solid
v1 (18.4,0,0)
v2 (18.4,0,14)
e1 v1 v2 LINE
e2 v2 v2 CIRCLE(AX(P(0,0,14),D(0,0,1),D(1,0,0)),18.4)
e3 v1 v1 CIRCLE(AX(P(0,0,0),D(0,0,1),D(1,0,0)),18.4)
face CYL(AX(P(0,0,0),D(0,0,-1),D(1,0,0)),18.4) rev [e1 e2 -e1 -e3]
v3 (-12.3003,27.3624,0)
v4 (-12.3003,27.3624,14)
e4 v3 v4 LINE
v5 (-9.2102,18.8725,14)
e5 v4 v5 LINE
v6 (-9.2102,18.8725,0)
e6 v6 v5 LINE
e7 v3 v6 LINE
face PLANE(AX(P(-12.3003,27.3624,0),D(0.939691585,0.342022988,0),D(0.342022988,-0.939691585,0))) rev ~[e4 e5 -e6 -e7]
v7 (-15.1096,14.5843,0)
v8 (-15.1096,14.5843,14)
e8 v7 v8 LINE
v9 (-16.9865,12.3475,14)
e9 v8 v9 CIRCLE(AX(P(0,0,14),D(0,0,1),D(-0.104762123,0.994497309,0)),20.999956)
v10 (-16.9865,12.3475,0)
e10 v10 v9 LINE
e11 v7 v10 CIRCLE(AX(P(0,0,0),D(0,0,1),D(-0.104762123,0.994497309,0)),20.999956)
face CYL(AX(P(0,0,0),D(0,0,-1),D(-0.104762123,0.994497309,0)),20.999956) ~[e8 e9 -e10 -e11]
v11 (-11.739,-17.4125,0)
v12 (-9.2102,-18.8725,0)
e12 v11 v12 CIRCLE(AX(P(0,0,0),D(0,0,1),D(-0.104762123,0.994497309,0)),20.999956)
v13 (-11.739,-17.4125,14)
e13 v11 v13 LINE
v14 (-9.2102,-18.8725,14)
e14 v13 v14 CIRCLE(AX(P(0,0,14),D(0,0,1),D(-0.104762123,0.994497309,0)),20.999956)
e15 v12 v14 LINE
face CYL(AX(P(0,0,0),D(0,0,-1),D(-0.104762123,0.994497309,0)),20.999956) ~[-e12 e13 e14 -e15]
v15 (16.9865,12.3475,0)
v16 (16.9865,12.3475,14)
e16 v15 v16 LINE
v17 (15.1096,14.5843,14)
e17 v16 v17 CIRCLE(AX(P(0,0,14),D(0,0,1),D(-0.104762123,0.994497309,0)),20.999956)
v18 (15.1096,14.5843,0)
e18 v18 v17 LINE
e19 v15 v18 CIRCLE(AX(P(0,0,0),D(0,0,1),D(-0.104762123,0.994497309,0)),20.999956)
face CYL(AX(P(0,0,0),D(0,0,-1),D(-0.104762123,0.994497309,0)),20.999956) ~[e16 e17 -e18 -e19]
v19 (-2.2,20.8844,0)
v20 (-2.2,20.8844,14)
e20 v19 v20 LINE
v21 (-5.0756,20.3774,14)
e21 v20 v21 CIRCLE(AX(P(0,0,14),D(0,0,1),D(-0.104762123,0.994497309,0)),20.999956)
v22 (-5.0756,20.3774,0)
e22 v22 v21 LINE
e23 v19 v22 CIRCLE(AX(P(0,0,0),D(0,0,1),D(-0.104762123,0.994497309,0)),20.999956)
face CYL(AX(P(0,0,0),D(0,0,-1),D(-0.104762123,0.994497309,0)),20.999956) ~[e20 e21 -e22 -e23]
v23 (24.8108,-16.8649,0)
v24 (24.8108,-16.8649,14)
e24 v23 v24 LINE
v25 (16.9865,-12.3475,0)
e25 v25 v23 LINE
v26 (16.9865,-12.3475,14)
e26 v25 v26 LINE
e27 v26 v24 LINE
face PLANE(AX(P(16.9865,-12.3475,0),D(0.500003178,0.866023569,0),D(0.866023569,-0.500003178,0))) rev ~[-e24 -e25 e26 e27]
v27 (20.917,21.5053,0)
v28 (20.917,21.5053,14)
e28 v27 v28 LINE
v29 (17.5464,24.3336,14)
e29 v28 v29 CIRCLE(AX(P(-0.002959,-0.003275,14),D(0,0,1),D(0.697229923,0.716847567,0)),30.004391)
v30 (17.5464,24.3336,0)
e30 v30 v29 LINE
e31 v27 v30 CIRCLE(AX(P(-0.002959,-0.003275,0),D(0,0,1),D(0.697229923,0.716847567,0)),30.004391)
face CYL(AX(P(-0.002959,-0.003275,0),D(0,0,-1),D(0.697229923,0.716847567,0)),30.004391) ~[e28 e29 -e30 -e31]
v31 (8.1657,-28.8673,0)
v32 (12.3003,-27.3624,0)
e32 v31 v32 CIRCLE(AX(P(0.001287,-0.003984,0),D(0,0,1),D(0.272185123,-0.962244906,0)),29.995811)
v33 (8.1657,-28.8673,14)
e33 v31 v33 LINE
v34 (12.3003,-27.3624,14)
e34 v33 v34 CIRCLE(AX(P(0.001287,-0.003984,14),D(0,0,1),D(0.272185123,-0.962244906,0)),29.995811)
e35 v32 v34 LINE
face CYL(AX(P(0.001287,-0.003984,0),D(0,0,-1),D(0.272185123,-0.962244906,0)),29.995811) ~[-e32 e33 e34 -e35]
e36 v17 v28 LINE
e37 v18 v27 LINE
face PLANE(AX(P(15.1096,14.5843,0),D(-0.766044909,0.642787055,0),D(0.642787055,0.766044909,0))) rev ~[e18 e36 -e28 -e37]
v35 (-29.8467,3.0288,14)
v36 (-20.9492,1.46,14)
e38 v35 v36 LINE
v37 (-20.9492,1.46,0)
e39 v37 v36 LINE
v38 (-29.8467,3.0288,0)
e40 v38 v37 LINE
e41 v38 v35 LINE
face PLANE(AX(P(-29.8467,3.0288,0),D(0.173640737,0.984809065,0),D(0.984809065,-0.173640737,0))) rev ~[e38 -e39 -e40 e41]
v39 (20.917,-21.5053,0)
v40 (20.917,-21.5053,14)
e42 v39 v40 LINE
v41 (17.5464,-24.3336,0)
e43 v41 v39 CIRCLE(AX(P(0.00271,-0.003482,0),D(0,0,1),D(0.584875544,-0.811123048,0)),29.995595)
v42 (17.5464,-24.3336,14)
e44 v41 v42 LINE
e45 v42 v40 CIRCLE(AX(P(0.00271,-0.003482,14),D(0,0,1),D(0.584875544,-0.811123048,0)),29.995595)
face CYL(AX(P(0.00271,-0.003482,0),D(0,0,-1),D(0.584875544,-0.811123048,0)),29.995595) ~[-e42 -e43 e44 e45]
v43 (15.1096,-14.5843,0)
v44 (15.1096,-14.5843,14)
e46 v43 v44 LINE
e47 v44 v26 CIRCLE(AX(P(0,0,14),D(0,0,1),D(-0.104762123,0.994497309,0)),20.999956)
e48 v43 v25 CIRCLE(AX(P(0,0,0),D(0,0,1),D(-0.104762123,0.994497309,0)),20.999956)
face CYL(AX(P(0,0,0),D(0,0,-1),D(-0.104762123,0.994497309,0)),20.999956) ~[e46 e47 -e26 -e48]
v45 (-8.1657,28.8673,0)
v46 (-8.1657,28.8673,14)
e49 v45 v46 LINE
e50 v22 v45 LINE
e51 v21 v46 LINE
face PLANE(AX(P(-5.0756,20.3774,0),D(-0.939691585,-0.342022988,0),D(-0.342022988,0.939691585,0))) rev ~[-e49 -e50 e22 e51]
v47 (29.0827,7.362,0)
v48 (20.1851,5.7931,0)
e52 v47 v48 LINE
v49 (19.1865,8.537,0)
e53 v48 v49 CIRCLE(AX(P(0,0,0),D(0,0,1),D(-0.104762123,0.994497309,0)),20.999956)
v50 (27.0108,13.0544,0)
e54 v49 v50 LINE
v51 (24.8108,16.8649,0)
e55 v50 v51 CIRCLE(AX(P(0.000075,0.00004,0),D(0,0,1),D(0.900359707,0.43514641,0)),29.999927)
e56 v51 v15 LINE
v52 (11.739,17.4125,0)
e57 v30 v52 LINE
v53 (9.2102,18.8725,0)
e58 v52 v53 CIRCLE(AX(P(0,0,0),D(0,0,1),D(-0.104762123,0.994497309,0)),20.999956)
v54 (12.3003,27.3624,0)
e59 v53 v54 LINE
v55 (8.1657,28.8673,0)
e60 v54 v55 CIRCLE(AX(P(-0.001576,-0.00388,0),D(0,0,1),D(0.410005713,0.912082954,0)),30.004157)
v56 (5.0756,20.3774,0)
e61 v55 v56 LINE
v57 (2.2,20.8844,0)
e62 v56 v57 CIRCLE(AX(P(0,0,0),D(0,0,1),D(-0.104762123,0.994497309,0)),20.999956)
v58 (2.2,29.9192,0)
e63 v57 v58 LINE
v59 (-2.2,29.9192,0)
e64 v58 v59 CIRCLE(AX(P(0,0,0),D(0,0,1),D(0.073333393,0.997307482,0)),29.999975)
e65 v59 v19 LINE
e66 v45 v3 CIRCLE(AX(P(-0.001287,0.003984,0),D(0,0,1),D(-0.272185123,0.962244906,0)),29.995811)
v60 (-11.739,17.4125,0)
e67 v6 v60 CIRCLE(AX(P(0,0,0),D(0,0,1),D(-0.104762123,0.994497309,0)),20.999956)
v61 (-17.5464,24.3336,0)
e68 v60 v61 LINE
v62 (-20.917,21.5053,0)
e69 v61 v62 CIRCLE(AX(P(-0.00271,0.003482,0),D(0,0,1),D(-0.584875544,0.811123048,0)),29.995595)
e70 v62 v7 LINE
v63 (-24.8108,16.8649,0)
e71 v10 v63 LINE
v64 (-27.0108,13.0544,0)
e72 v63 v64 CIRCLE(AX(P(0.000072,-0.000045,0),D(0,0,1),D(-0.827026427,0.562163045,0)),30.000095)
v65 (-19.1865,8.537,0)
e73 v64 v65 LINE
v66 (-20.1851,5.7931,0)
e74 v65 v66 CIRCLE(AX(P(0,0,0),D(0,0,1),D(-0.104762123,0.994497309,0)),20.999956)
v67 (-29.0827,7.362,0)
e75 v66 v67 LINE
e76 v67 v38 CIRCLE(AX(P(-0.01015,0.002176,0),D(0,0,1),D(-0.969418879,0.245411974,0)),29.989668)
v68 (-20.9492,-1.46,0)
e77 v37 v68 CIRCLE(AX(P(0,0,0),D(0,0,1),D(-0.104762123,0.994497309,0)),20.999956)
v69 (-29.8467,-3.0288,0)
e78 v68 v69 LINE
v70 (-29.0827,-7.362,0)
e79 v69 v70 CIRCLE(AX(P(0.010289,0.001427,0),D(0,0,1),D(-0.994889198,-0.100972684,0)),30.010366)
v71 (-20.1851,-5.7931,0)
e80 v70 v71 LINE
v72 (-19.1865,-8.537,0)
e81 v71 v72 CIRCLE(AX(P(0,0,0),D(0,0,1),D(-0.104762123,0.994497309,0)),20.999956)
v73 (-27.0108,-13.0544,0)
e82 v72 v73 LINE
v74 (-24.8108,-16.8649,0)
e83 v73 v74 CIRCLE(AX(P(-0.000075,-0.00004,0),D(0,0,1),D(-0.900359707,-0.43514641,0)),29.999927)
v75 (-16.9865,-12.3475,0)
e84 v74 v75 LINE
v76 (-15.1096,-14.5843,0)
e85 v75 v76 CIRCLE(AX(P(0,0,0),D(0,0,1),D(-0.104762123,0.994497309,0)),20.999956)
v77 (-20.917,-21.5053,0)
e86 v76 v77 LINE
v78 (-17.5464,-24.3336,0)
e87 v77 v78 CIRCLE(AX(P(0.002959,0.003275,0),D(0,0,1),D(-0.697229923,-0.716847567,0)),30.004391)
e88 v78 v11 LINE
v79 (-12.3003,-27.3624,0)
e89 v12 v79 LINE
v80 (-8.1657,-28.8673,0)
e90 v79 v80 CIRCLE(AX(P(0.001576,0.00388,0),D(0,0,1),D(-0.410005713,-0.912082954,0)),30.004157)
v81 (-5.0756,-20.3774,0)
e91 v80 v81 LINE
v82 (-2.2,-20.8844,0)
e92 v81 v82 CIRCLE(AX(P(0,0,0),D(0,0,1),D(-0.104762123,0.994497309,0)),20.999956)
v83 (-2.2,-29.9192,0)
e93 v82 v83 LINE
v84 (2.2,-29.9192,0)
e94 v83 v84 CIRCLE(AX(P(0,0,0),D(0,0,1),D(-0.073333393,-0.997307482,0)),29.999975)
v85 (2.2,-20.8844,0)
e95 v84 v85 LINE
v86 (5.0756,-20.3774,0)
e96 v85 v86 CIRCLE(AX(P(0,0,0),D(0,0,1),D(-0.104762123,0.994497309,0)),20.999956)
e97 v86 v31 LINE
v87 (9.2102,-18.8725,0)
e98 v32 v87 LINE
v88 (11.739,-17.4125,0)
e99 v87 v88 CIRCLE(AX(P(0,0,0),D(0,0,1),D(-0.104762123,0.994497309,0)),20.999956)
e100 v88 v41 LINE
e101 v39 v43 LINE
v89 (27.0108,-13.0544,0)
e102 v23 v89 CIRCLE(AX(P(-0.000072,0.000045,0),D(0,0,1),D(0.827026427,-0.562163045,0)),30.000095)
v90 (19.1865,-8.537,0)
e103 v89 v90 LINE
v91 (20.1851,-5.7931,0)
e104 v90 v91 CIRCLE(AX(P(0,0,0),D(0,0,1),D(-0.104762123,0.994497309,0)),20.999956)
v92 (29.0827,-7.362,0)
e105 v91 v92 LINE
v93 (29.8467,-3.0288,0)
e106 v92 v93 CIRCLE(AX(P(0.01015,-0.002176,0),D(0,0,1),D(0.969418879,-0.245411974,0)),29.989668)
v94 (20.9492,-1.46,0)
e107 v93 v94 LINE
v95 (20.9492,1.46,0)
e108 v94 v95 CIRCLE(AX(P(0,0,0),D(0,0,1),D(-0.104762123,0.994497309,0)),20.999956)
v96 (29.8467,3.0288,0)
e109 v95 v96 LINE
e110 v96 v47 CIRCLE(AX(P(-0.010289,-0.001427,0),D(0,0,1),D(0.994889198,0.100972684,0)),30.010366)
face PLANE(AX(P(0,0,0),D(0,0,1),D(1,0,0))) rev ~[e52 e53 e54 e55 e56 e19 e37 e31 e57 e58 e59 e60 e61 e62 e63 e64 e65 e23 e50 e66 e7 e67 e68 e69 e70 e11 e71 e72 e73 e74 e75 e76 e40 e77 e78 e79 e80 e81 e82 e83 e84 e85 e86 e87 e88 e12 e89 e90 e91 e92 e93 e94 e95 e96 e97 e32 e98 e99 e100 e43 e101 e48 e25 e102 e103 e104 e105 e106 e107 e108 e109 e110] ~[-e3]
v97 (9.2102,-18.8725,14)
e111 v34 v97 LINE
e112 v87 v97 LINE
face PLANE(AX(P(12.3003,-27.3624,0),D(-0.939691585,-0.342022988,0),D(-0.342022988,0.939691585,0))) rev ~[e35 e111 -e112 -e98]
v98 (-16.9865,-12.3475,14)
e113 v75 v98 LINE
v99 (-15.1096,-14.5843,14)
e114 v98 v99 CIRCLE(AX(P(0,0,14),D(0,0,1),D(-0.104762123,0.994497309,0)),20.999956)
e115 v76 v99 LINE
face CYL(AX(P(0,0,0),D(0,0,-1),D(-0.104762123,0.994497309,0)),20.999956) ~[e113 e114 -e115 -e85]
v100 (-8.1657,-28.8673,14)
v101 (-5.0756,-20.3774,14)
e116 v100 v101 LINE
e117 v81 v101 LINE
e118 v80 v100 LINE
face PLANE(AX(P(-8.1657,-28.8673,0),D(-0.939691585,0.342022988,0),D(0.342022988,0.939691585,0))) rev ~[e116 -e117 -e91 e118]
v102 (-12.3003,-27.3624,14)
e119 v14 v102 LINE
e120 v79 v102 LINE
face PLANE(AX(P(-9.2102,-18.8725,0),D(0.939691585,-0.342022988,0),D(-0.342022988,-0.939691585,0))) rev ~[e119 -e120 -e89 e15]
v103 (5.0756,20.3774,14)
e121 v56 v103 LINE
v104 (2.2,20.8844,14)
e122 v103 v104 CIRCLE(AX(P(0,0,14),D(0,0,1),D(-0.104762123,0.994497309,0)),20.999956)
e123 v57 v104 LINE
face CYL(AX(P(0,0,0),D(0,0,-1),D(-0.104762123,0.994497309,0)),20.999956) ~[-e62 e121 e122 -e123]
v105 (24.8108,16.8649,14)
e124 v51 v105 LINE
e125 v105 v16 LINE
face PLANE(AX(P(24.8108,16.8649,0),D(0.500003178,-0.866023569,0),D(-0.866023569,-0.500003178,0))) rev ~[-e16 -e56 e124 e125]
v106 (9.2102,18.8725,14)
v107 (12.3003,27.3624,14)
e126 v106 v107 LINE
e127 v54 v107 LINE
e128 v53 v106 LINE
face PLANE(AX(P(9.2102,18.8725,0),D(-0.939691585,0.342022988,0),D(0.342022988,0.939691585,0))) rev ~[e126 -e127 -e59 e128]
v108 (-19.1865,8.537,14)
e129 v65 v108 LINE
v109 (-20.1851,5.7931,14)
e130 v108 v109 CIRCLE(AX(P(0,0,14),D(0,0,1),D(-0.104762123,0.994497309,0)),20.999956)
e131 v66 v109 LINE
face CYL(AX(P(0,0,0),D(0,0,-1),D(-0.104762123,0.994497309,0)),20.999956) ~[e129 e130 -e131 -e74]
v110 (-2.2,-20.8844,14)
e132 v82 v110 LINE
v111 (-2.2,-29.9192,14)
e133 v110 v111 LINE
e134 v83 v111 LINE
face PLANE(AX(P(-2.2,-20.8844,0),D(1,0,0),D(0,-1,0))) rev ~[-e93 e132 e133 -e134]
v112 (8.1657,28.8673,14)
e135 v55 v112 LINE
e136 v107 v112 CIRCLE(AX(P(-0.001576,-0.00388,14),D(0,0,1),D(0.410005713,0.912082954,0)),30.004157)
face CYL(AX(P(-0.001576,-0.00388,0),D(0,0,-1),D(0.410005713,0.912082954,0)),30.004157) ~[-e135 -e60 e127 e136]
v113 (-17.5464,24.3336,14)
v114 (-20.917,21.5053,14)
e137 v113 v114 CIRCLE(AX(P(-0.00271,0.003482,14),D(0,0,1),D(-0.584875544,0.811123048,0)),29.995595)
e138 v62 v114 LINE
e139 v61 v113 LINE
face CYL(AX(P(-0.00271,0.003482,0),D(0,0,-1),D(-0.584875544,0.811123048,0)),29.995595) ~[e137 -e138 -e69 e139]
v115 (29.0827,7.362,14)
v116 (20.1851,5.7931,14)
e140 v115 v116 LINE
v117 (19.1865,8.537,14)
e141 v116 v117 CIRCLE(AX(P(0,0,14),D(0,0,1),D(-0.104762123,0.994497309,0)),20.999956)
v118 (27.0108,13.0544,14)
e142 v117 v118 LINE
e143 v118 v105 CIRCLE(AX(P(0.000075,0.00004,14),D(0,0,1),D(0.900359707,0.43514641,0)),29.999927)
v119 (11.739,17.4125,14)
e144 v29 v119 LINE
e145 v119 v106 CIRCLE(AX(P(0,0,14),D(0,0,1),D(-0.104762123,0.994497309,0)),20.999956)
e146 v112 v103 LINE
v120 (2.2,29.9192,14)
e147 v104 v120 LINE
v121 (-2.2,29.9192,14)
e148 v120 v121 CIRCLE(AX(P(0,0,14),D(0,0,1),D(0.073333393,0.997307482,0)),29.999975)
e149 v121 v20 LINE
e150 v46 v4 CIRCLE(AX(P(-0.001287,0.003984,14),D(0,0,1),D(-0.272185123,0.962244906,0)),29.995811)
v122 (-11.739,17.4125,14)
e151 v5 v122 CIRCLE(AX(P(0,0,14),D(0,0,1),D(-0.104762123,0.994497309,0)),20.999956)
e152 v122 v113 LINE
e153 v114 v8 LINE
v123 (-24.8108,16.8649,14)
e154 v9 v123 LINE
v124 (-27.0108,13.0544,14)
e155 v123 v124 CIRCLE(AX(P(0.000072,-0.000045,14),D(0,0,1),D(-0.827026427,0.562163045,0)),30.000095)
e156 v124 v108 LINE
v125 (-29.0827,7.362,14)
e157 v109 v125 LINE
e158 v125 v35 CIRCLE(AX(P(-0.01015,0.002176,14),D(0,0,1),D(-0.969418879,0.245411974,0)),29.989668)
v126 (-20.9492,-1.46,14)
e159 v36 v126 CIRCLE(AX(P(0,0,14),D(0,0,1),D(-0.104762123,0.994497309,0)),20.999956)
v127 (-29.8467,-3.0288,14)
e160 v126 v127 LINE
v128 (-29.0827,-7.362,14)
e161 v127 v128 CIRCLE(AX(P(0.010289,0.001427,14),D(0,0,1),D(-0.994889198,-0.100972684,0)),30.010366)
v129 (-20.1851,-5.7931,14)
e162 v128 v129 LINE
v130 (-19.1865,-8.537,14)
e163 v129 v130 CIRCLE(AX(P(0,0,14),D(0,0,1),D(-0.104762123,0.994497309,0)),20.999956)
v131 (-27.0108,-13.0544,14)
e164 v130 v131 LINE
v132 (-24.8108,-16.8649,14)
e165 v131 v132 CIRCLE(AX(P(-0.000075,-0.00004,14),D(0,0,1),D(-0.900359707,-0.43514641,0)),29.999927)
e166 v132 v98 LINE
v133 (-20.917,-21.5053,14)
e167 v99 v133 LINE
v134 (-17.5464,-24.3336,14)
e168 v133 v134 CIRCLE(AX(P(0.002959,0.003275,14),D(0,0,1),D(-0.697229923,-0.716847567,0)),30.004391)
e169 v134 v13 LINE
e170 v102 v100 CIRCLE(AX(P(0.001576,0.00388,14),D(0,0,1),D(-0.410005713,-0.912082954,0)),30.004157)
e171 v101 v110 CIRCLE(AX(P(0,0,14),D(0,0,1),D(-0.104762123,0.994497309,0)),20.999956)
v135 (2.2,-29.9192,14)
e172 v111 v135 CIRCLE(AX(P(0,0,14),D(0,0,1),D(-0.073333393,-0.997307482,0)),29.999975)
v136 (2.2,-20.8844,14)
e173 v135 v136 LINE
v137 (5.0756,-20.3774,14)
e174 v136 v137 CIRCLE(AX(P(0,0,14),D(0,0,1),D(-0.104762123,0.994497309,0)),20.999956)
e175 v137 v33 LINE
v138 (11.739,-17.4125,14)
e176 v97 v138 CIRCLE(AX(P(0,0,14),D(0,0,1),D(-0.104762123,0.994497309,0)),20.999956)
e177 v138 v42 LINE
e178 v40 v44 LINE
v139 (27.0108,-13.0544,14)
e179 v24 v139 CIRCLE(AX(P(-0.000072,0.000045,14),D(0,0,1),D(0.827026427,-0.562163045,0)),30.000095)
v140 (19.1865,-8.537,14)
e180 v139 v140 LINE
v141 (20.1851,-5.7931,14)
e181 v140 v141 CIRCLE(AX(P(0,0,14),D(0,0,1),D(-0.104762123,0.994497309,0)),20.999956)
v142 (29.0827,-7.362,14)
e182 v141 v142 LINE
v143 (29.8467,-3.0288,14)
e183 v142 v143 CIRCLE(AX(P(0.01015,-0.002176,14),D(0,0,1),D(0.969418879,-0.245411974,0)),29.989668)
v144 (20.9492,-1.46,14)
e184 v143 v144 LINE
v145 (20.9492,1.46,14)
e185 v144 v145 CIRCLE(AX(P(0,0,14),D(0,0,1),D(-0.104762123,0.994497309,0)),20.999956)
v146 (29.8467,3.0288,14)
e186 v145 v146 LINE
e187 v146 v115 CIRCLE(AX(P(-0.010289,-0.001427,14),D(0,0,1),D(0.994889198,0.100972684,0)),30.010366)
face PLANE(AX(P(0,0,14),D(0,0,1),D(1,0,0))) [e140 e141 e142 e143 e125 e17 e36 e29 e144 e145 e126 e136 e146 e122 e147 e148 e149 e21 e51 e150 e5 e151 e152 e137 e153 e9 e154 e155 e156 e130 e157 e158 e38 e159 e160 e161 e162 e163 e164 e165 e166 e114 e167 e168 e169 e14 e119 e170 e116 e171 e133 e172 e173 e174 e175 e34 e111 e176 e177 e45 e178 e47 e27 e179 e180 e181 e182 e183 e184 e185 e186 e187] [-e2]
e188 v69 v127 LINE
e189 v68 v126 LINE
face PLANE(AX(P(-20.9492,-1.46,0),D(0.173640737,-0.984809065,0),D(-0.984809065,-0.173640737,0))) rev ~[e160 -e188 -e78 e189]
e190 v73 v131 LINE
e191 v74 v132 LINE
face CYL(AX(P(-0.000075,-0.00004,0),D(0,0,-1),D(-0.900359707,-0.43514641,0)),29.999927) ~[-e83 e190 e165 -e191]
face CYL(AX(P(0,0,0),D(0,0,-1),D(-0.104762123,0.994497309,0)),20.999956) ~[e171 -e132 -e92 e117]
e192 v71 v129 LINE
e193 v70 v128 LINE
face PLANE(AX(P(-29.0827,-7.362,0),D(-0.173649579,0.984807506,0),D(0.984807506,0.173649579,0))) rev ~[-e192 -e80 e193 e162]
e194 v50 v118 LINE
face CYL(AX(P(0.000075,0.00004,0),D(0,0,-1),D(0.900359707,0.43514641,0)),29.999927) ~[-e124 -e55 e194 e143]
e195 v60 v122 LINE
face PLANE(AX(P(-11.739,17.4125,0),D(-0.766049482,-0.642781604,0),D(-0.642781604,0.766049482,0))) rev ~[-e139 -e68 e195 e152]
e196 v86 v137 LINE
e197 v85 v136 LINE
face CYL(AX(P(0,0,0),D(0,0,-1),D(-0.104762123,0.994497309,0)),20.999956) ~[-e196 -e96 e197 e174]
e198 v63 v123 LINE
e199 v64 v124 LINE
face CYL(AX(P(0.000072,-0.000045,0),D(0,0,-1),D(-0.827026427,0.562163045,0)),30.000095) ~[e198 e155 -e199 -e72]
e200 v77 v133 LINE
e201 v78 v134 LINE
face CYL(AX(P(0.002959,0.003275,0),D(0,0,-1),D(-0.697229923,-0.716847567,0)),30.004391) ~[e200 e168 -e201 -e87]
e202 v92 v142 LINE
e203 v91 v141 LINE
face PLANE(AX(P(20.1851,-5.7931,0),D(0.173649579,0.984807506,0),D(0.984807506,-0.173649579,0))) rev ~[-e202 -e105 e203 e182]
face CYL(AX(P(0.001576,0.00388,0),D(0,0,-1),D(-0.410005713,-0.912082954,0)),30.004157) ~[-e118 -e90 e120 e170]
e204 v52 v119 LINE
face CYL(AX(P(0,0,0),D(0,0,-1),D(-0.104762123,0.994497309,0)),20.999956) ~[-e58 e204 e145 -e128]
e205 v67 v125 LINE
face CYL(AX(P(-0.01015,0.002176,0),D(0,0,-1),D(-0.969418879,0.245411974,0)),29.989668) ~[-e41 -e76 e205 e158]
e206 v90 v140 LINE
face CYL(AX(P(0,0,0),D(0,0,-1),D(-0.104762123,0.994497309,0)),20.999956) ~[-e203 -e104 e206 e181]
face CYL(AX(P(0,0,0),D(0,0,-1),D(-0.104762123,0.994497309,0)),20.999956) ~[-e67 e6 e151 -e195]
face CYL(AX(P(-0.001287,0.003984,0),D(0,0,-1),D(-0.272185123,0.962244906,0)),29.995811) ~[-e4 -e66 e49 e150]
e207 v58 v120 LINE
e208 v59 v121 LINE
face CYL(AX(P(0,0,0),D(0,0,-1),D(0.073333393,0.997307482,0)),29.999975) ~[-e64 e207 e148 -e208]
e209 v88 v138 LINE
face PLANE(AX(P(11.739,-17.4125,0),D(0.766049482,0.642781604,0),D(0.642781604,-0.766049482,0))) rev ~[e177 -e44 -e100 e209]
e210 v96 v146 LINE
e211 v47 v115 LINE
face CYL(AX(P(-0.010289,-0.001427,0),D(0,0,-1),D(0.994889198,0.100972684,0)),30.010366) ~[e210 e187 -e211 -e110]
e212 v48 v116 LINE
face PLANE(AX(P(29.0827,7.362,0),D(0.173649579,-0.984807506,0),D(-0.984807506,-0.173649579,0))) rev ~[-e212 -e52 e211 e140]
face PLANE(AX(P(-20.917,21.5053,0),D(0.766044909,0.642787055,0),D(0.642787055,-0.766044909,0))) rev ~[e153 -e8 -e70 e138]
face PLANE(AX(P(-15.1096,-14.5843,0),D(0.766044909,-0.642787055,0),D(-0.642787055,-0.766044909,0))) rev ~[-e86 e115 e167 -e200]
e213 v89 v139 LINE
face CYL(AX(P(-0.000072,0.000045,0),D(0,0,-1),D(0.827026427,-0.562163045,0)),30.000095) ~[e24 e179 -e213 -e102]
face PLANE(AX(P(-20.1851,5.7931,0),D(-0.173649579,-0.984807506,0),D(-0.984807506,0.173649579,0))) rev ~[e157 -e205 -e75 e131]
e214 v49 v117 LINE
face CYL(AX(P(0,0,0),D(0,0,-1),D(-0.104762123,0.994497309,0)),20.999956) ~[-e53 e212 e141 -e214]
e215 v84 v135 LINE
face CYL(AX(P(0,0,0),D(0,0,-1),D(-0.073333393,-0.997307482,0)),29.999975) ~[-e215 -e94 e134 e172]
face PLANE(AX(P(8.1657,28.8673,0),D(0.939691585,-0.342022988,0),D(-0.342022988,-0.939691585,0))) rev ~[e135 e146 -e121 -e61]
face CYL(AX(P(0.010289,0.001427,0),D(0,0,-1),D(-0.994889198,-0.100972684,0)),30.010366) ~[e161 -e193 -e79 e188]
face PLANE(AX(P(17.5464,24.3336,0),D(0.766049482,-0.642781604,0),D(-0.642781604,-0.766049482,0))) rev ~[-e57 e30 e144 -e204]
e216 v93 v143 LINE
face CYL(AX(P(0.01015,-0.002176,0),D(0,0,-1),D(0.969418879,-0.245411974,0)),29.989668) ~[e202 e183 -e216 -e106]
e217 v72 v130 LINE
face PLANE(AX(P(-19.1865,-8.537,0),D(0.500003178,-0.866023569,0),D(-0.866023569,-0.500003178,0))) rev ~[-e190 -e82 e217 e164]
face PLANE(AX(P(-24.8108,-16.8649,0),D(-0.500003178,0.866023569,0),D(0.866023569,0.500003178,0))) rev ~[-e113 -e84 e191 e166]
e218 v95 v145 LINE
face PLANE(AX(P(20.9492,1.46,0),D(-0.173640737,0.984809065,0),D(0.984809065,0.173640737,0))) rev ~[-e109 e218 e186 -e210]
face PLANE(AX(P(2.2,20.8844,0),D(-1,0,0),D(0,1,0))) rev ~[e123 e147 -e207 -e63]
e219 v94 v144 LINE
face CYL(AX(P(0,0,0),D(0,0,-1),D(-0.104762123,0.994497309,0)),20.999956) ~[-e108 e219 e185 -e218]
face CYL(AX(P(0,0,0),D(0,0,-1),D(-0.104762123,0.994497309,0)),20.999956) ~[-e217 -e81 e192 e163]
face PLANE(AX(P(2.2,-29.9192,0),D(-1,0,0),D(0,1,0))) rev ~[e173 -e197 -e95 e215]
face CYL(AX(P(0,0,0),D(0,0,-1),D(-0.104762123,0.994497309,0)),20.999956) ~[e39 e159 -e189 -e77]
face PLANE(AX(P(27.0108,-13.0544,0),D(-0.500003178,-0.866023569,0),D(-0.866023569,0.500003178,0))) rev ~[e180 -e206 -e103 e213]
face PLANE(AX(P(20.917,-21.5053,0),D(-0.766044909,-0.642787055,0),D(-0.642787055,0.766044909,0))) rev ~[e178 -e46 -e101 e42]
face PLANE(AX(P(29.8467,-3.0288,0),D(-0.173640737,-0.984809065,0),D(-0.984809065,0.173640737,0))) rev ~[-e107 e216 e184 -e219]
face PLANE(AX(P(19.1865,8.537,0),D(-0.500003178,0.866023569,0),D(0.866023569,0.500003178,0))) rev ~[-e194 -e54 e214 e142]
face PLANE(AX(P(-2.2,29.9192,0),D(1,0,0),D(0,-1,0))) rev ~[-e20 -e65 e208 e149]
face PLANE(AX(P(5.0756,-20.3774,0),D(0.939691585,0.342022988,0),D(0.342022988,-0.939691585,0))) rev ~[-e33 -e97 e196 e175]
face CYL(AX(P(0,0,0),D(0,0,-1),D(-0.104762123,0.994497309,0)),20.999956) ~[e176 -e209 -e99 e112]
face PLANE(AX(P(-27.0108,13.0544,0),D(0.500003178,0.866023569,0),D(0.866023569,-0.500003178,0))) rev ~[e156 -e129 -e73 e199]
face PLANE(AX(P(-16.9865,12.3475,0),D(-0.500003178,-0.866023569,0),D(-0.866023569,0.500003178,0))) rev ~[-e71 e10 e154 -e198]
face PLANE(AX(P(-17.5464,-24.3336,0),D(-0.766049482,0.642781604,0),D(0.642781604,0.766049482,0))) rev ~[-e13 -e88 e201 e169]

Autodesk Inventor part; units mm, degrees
ref_plane "YZ Plane" through (0, 0, 0) normal (1, 0, 0) x (0, 1, 0)
ref_plane "XZ Plane" through (0, 0, 0) normal (0, 1, 0) x (-1, 0, 0)
ref_plane "XY Plane" through (0, 0, 0) normal (0, 0, 1) x (1, 0, 0)
sketch "스케치1" plane through (0, 0, 0) normal (0, 0, 1) x (1, 0, 0)
  circle A0 centre (0, 0) radius 18.4
  arc A1 (2.2, 29.9192) -> (-2.2, 29.9192) centre (0, 0) ccw
  arc A2 (-2.2, 20.8844) -> (2.2, 20.8844) centre (0, 0) ccw
  line L0 (2.2, 29.9192) -> (-2.2, 29.9192)
  line L1 (-2.2, 29.9192) -> (-2.2, 20.8844)
  line L2 (2.2, 20.8844) -> (2.2, 29.9192)
  arc A3 (-8.1657, 28.8673) -> (-12.3003, 27.3624) centre (0, 0) ccw
  line L3 (-8.1657, 28.8673) -> (-12.3003, 27.3624)
  line L4 (-12.3003, 27.3624) -> (-9.2102, 18.8725)
  line L5 (-5.0756, 20.3774) -> (-8.1657, 28.8673)
  arc A4 (-17.5464, 24.3336) -> (-20.917, 21.5053) centre (0, 0) ccw
  line L6 (-17.5464, 24.3336) -> (-20.917, 21.5053)
  line L7 (-20.917, 21.5053) -> (-15.1096, 14.5843)
  line L8 (-11.739, 17.4125) -> (-17.5464, 24.3336)
  arc A5 (-24.8108, 16.8649) -> (-27.0108, 13.0544) centre (0, 0) ccw
  line L9 (-24.8108, 16.8649) -> (-27.0108, 13.0544)
  line L10 (-27.0108, 13.0544) -> (-19.1865, 8.537)
  line L11 (-16.9865, 12.3475) -> (-24.8108, 16.8649)
  arc A6 (-29.0827, 7.362) -> (-29.8467, 3.0288) centre (0, 0) ccw
  line L12 (-29.0827, 7.362) -> (-29.8467, 3.0288)
  line L13 (-29.8467, 3.0288) -> (-20.9492, 1.46)
  line L14 (-20.1851, 5.7931) -> (-29.0827, 7.362)
  arc A7 (-29.8467, -3.0288) -> (-29.0827, -7.362) centre (0, 0) ccw
  line L15 (-29.8467, -3.0288) -> (-29.0827, -7.362)
  line L16 (-29.0827, -7.362) -> (-20.1851, -5.7931)
  line L17 (-20.9492, -1.46) -> (-29.8467, -3.0288)
  arc A8 (-27.0108, -13.0544) -> (-24.8108, -16.8649) centre (0, 0) ccw
  line L18 (-27.0108, -13.0544) -> (-24.8108, -16.8649)
  line L19 (-24.8108, -16.8649) -> (-16.9865, -12.3475)
  line L20 (-19.1865, -8.537) -> (-27.0108, -13.0544)
  arc A9 (-20.917, -21.5053) -> (-17.5464, -24.3336) centre (0, 0) ccw
  line L21 (-20.917, -21.5053) -> (-17.5464, -24.3336)
  line L22 (-17.5464, -24.3336) -> (-11.739, -17.4125)
  line L23 (-15.1096, -14.5843) -> (-20.917, -21.5053)
  arc A10 (-12.3003, -27.3624) -> (-8.1657, -28.8673) centre (0, 0) ccw
  line L24 (-12.3003, -27.3624) -> (-8.1657, -28.8673)
  line L25 (-8.1657, -28.8673) -> (-5.0756, -20.3774)
  line L26 (-9.2102, -18.8725) -> (-12.3003, -27.3624)
  arc A11 (-2.2, -29.9192) -> (2.2, -29.9192) centre (0, 0) ccw
  line L27 (-2.2, -29.9192) -> (2.2, -29.9192)
  line L28 (2.2, -29.9192) -> (2.2, -20.8844)
  line L29 (-2.2, -20.8844) -> (-2.2, -29.9192)
  arc A12 (8.1657, -28.8673) -> (12.3003, -27.3624) centre (0, 0) ccw
  line L30 (8.1657, -28.8673) -> (12.3003, -27.3624)
  line L31 (12.3003, -27.3624) -> (9.2102, -18.8725)
  line L32 (5.0756, -20.3774) -> (8.1657, -28.8673)
  arc A13 (17.5464, -24.3336) -> (20.917, -21.5053) centre (0, 0) ccw
  line L33 (17.5464, -24.3336) -> (20.917, -21.5053)
  line L34 (20.917, -21.5053) -> (15.1096, -14.5843)
  line L35 (11.739, -17.4125) -> (17.5464, -24.3336)
  arc A14 (24.8108, -16.8649) -> (27.0108, -13.0544) centre (0, 0) ccw
  line L36 (24.8108, -16.8649) -> (27.0108, -13.0544)
  line L37 (27.0108, -13.0544) -> (19.1865, -8.537)
  line L38 (16.9865, -12.3475) -> (24.8108, -16.8649)
  arc A15 (29.0827, -7.362) -> (29.8467, -3.0288) centre (0, 0) ccw
  line L39 (29.0827, -7.362) -> (29.8467, -3.0288)
  line L40 (29.8467, -3.0288) -> (20.9492, -1.46)
  line L41 (20.1851, -5.7931) -> (29.0827, -7.362)
  arc A16 (29.8467, 3.0288) -> (29.0827, 7.362) centre (0, 0) ccw
  line L42 (29.8467, 3.0288) -> (29.0827, 7.362)
  line L43 (29.0827, 7.362) -> (20.1851, 5.7931)
  line L44 (20.9492, 1.46) -> (29.8467, 3.0288)
  arc A17 (27.0108, 13.0544) -> (24.8108, 16.8649) centre (0, 0) ccw
  line L45 (27.0108, 13.0544) -> (24.8108, 16.8649)
  line L46 (24.8108, 16.8649) -> (16.9865, 12.3475)
  line L47 (19.1865, 8.537) -> (27.0108, 13.0544)
  arc A18 (20.917, 21.5053) -> (17.5464, 24.3336) centre (0, 0) ccw
  line L48 (20.917, 21.5053) -> (17.5464, 24.3336)
  line L49 (17.5464, 24.3336) -> (11.739, 17.4125)
  line L50 (15.1096, 14.5843) -> (20.917, 21.5053)
  arc A19 (12.3003, 27.3624) -> (8.1657, 28.8673) centre (0, 0) ccw
  line L51 (12.3003, 27.3624) -> (8.1657, 28.8673)
  line L52 (8.1657, 28.8673) -> (5.0756, 20.3774)
  line L53 (9.2102, 18.8725) -> (12.3003, 27.3624)
  dimension "d6" = 360
extrude "돌출1" add sketch "스케치1" along normal blind 14
properties part number "Dummy_Stator"
